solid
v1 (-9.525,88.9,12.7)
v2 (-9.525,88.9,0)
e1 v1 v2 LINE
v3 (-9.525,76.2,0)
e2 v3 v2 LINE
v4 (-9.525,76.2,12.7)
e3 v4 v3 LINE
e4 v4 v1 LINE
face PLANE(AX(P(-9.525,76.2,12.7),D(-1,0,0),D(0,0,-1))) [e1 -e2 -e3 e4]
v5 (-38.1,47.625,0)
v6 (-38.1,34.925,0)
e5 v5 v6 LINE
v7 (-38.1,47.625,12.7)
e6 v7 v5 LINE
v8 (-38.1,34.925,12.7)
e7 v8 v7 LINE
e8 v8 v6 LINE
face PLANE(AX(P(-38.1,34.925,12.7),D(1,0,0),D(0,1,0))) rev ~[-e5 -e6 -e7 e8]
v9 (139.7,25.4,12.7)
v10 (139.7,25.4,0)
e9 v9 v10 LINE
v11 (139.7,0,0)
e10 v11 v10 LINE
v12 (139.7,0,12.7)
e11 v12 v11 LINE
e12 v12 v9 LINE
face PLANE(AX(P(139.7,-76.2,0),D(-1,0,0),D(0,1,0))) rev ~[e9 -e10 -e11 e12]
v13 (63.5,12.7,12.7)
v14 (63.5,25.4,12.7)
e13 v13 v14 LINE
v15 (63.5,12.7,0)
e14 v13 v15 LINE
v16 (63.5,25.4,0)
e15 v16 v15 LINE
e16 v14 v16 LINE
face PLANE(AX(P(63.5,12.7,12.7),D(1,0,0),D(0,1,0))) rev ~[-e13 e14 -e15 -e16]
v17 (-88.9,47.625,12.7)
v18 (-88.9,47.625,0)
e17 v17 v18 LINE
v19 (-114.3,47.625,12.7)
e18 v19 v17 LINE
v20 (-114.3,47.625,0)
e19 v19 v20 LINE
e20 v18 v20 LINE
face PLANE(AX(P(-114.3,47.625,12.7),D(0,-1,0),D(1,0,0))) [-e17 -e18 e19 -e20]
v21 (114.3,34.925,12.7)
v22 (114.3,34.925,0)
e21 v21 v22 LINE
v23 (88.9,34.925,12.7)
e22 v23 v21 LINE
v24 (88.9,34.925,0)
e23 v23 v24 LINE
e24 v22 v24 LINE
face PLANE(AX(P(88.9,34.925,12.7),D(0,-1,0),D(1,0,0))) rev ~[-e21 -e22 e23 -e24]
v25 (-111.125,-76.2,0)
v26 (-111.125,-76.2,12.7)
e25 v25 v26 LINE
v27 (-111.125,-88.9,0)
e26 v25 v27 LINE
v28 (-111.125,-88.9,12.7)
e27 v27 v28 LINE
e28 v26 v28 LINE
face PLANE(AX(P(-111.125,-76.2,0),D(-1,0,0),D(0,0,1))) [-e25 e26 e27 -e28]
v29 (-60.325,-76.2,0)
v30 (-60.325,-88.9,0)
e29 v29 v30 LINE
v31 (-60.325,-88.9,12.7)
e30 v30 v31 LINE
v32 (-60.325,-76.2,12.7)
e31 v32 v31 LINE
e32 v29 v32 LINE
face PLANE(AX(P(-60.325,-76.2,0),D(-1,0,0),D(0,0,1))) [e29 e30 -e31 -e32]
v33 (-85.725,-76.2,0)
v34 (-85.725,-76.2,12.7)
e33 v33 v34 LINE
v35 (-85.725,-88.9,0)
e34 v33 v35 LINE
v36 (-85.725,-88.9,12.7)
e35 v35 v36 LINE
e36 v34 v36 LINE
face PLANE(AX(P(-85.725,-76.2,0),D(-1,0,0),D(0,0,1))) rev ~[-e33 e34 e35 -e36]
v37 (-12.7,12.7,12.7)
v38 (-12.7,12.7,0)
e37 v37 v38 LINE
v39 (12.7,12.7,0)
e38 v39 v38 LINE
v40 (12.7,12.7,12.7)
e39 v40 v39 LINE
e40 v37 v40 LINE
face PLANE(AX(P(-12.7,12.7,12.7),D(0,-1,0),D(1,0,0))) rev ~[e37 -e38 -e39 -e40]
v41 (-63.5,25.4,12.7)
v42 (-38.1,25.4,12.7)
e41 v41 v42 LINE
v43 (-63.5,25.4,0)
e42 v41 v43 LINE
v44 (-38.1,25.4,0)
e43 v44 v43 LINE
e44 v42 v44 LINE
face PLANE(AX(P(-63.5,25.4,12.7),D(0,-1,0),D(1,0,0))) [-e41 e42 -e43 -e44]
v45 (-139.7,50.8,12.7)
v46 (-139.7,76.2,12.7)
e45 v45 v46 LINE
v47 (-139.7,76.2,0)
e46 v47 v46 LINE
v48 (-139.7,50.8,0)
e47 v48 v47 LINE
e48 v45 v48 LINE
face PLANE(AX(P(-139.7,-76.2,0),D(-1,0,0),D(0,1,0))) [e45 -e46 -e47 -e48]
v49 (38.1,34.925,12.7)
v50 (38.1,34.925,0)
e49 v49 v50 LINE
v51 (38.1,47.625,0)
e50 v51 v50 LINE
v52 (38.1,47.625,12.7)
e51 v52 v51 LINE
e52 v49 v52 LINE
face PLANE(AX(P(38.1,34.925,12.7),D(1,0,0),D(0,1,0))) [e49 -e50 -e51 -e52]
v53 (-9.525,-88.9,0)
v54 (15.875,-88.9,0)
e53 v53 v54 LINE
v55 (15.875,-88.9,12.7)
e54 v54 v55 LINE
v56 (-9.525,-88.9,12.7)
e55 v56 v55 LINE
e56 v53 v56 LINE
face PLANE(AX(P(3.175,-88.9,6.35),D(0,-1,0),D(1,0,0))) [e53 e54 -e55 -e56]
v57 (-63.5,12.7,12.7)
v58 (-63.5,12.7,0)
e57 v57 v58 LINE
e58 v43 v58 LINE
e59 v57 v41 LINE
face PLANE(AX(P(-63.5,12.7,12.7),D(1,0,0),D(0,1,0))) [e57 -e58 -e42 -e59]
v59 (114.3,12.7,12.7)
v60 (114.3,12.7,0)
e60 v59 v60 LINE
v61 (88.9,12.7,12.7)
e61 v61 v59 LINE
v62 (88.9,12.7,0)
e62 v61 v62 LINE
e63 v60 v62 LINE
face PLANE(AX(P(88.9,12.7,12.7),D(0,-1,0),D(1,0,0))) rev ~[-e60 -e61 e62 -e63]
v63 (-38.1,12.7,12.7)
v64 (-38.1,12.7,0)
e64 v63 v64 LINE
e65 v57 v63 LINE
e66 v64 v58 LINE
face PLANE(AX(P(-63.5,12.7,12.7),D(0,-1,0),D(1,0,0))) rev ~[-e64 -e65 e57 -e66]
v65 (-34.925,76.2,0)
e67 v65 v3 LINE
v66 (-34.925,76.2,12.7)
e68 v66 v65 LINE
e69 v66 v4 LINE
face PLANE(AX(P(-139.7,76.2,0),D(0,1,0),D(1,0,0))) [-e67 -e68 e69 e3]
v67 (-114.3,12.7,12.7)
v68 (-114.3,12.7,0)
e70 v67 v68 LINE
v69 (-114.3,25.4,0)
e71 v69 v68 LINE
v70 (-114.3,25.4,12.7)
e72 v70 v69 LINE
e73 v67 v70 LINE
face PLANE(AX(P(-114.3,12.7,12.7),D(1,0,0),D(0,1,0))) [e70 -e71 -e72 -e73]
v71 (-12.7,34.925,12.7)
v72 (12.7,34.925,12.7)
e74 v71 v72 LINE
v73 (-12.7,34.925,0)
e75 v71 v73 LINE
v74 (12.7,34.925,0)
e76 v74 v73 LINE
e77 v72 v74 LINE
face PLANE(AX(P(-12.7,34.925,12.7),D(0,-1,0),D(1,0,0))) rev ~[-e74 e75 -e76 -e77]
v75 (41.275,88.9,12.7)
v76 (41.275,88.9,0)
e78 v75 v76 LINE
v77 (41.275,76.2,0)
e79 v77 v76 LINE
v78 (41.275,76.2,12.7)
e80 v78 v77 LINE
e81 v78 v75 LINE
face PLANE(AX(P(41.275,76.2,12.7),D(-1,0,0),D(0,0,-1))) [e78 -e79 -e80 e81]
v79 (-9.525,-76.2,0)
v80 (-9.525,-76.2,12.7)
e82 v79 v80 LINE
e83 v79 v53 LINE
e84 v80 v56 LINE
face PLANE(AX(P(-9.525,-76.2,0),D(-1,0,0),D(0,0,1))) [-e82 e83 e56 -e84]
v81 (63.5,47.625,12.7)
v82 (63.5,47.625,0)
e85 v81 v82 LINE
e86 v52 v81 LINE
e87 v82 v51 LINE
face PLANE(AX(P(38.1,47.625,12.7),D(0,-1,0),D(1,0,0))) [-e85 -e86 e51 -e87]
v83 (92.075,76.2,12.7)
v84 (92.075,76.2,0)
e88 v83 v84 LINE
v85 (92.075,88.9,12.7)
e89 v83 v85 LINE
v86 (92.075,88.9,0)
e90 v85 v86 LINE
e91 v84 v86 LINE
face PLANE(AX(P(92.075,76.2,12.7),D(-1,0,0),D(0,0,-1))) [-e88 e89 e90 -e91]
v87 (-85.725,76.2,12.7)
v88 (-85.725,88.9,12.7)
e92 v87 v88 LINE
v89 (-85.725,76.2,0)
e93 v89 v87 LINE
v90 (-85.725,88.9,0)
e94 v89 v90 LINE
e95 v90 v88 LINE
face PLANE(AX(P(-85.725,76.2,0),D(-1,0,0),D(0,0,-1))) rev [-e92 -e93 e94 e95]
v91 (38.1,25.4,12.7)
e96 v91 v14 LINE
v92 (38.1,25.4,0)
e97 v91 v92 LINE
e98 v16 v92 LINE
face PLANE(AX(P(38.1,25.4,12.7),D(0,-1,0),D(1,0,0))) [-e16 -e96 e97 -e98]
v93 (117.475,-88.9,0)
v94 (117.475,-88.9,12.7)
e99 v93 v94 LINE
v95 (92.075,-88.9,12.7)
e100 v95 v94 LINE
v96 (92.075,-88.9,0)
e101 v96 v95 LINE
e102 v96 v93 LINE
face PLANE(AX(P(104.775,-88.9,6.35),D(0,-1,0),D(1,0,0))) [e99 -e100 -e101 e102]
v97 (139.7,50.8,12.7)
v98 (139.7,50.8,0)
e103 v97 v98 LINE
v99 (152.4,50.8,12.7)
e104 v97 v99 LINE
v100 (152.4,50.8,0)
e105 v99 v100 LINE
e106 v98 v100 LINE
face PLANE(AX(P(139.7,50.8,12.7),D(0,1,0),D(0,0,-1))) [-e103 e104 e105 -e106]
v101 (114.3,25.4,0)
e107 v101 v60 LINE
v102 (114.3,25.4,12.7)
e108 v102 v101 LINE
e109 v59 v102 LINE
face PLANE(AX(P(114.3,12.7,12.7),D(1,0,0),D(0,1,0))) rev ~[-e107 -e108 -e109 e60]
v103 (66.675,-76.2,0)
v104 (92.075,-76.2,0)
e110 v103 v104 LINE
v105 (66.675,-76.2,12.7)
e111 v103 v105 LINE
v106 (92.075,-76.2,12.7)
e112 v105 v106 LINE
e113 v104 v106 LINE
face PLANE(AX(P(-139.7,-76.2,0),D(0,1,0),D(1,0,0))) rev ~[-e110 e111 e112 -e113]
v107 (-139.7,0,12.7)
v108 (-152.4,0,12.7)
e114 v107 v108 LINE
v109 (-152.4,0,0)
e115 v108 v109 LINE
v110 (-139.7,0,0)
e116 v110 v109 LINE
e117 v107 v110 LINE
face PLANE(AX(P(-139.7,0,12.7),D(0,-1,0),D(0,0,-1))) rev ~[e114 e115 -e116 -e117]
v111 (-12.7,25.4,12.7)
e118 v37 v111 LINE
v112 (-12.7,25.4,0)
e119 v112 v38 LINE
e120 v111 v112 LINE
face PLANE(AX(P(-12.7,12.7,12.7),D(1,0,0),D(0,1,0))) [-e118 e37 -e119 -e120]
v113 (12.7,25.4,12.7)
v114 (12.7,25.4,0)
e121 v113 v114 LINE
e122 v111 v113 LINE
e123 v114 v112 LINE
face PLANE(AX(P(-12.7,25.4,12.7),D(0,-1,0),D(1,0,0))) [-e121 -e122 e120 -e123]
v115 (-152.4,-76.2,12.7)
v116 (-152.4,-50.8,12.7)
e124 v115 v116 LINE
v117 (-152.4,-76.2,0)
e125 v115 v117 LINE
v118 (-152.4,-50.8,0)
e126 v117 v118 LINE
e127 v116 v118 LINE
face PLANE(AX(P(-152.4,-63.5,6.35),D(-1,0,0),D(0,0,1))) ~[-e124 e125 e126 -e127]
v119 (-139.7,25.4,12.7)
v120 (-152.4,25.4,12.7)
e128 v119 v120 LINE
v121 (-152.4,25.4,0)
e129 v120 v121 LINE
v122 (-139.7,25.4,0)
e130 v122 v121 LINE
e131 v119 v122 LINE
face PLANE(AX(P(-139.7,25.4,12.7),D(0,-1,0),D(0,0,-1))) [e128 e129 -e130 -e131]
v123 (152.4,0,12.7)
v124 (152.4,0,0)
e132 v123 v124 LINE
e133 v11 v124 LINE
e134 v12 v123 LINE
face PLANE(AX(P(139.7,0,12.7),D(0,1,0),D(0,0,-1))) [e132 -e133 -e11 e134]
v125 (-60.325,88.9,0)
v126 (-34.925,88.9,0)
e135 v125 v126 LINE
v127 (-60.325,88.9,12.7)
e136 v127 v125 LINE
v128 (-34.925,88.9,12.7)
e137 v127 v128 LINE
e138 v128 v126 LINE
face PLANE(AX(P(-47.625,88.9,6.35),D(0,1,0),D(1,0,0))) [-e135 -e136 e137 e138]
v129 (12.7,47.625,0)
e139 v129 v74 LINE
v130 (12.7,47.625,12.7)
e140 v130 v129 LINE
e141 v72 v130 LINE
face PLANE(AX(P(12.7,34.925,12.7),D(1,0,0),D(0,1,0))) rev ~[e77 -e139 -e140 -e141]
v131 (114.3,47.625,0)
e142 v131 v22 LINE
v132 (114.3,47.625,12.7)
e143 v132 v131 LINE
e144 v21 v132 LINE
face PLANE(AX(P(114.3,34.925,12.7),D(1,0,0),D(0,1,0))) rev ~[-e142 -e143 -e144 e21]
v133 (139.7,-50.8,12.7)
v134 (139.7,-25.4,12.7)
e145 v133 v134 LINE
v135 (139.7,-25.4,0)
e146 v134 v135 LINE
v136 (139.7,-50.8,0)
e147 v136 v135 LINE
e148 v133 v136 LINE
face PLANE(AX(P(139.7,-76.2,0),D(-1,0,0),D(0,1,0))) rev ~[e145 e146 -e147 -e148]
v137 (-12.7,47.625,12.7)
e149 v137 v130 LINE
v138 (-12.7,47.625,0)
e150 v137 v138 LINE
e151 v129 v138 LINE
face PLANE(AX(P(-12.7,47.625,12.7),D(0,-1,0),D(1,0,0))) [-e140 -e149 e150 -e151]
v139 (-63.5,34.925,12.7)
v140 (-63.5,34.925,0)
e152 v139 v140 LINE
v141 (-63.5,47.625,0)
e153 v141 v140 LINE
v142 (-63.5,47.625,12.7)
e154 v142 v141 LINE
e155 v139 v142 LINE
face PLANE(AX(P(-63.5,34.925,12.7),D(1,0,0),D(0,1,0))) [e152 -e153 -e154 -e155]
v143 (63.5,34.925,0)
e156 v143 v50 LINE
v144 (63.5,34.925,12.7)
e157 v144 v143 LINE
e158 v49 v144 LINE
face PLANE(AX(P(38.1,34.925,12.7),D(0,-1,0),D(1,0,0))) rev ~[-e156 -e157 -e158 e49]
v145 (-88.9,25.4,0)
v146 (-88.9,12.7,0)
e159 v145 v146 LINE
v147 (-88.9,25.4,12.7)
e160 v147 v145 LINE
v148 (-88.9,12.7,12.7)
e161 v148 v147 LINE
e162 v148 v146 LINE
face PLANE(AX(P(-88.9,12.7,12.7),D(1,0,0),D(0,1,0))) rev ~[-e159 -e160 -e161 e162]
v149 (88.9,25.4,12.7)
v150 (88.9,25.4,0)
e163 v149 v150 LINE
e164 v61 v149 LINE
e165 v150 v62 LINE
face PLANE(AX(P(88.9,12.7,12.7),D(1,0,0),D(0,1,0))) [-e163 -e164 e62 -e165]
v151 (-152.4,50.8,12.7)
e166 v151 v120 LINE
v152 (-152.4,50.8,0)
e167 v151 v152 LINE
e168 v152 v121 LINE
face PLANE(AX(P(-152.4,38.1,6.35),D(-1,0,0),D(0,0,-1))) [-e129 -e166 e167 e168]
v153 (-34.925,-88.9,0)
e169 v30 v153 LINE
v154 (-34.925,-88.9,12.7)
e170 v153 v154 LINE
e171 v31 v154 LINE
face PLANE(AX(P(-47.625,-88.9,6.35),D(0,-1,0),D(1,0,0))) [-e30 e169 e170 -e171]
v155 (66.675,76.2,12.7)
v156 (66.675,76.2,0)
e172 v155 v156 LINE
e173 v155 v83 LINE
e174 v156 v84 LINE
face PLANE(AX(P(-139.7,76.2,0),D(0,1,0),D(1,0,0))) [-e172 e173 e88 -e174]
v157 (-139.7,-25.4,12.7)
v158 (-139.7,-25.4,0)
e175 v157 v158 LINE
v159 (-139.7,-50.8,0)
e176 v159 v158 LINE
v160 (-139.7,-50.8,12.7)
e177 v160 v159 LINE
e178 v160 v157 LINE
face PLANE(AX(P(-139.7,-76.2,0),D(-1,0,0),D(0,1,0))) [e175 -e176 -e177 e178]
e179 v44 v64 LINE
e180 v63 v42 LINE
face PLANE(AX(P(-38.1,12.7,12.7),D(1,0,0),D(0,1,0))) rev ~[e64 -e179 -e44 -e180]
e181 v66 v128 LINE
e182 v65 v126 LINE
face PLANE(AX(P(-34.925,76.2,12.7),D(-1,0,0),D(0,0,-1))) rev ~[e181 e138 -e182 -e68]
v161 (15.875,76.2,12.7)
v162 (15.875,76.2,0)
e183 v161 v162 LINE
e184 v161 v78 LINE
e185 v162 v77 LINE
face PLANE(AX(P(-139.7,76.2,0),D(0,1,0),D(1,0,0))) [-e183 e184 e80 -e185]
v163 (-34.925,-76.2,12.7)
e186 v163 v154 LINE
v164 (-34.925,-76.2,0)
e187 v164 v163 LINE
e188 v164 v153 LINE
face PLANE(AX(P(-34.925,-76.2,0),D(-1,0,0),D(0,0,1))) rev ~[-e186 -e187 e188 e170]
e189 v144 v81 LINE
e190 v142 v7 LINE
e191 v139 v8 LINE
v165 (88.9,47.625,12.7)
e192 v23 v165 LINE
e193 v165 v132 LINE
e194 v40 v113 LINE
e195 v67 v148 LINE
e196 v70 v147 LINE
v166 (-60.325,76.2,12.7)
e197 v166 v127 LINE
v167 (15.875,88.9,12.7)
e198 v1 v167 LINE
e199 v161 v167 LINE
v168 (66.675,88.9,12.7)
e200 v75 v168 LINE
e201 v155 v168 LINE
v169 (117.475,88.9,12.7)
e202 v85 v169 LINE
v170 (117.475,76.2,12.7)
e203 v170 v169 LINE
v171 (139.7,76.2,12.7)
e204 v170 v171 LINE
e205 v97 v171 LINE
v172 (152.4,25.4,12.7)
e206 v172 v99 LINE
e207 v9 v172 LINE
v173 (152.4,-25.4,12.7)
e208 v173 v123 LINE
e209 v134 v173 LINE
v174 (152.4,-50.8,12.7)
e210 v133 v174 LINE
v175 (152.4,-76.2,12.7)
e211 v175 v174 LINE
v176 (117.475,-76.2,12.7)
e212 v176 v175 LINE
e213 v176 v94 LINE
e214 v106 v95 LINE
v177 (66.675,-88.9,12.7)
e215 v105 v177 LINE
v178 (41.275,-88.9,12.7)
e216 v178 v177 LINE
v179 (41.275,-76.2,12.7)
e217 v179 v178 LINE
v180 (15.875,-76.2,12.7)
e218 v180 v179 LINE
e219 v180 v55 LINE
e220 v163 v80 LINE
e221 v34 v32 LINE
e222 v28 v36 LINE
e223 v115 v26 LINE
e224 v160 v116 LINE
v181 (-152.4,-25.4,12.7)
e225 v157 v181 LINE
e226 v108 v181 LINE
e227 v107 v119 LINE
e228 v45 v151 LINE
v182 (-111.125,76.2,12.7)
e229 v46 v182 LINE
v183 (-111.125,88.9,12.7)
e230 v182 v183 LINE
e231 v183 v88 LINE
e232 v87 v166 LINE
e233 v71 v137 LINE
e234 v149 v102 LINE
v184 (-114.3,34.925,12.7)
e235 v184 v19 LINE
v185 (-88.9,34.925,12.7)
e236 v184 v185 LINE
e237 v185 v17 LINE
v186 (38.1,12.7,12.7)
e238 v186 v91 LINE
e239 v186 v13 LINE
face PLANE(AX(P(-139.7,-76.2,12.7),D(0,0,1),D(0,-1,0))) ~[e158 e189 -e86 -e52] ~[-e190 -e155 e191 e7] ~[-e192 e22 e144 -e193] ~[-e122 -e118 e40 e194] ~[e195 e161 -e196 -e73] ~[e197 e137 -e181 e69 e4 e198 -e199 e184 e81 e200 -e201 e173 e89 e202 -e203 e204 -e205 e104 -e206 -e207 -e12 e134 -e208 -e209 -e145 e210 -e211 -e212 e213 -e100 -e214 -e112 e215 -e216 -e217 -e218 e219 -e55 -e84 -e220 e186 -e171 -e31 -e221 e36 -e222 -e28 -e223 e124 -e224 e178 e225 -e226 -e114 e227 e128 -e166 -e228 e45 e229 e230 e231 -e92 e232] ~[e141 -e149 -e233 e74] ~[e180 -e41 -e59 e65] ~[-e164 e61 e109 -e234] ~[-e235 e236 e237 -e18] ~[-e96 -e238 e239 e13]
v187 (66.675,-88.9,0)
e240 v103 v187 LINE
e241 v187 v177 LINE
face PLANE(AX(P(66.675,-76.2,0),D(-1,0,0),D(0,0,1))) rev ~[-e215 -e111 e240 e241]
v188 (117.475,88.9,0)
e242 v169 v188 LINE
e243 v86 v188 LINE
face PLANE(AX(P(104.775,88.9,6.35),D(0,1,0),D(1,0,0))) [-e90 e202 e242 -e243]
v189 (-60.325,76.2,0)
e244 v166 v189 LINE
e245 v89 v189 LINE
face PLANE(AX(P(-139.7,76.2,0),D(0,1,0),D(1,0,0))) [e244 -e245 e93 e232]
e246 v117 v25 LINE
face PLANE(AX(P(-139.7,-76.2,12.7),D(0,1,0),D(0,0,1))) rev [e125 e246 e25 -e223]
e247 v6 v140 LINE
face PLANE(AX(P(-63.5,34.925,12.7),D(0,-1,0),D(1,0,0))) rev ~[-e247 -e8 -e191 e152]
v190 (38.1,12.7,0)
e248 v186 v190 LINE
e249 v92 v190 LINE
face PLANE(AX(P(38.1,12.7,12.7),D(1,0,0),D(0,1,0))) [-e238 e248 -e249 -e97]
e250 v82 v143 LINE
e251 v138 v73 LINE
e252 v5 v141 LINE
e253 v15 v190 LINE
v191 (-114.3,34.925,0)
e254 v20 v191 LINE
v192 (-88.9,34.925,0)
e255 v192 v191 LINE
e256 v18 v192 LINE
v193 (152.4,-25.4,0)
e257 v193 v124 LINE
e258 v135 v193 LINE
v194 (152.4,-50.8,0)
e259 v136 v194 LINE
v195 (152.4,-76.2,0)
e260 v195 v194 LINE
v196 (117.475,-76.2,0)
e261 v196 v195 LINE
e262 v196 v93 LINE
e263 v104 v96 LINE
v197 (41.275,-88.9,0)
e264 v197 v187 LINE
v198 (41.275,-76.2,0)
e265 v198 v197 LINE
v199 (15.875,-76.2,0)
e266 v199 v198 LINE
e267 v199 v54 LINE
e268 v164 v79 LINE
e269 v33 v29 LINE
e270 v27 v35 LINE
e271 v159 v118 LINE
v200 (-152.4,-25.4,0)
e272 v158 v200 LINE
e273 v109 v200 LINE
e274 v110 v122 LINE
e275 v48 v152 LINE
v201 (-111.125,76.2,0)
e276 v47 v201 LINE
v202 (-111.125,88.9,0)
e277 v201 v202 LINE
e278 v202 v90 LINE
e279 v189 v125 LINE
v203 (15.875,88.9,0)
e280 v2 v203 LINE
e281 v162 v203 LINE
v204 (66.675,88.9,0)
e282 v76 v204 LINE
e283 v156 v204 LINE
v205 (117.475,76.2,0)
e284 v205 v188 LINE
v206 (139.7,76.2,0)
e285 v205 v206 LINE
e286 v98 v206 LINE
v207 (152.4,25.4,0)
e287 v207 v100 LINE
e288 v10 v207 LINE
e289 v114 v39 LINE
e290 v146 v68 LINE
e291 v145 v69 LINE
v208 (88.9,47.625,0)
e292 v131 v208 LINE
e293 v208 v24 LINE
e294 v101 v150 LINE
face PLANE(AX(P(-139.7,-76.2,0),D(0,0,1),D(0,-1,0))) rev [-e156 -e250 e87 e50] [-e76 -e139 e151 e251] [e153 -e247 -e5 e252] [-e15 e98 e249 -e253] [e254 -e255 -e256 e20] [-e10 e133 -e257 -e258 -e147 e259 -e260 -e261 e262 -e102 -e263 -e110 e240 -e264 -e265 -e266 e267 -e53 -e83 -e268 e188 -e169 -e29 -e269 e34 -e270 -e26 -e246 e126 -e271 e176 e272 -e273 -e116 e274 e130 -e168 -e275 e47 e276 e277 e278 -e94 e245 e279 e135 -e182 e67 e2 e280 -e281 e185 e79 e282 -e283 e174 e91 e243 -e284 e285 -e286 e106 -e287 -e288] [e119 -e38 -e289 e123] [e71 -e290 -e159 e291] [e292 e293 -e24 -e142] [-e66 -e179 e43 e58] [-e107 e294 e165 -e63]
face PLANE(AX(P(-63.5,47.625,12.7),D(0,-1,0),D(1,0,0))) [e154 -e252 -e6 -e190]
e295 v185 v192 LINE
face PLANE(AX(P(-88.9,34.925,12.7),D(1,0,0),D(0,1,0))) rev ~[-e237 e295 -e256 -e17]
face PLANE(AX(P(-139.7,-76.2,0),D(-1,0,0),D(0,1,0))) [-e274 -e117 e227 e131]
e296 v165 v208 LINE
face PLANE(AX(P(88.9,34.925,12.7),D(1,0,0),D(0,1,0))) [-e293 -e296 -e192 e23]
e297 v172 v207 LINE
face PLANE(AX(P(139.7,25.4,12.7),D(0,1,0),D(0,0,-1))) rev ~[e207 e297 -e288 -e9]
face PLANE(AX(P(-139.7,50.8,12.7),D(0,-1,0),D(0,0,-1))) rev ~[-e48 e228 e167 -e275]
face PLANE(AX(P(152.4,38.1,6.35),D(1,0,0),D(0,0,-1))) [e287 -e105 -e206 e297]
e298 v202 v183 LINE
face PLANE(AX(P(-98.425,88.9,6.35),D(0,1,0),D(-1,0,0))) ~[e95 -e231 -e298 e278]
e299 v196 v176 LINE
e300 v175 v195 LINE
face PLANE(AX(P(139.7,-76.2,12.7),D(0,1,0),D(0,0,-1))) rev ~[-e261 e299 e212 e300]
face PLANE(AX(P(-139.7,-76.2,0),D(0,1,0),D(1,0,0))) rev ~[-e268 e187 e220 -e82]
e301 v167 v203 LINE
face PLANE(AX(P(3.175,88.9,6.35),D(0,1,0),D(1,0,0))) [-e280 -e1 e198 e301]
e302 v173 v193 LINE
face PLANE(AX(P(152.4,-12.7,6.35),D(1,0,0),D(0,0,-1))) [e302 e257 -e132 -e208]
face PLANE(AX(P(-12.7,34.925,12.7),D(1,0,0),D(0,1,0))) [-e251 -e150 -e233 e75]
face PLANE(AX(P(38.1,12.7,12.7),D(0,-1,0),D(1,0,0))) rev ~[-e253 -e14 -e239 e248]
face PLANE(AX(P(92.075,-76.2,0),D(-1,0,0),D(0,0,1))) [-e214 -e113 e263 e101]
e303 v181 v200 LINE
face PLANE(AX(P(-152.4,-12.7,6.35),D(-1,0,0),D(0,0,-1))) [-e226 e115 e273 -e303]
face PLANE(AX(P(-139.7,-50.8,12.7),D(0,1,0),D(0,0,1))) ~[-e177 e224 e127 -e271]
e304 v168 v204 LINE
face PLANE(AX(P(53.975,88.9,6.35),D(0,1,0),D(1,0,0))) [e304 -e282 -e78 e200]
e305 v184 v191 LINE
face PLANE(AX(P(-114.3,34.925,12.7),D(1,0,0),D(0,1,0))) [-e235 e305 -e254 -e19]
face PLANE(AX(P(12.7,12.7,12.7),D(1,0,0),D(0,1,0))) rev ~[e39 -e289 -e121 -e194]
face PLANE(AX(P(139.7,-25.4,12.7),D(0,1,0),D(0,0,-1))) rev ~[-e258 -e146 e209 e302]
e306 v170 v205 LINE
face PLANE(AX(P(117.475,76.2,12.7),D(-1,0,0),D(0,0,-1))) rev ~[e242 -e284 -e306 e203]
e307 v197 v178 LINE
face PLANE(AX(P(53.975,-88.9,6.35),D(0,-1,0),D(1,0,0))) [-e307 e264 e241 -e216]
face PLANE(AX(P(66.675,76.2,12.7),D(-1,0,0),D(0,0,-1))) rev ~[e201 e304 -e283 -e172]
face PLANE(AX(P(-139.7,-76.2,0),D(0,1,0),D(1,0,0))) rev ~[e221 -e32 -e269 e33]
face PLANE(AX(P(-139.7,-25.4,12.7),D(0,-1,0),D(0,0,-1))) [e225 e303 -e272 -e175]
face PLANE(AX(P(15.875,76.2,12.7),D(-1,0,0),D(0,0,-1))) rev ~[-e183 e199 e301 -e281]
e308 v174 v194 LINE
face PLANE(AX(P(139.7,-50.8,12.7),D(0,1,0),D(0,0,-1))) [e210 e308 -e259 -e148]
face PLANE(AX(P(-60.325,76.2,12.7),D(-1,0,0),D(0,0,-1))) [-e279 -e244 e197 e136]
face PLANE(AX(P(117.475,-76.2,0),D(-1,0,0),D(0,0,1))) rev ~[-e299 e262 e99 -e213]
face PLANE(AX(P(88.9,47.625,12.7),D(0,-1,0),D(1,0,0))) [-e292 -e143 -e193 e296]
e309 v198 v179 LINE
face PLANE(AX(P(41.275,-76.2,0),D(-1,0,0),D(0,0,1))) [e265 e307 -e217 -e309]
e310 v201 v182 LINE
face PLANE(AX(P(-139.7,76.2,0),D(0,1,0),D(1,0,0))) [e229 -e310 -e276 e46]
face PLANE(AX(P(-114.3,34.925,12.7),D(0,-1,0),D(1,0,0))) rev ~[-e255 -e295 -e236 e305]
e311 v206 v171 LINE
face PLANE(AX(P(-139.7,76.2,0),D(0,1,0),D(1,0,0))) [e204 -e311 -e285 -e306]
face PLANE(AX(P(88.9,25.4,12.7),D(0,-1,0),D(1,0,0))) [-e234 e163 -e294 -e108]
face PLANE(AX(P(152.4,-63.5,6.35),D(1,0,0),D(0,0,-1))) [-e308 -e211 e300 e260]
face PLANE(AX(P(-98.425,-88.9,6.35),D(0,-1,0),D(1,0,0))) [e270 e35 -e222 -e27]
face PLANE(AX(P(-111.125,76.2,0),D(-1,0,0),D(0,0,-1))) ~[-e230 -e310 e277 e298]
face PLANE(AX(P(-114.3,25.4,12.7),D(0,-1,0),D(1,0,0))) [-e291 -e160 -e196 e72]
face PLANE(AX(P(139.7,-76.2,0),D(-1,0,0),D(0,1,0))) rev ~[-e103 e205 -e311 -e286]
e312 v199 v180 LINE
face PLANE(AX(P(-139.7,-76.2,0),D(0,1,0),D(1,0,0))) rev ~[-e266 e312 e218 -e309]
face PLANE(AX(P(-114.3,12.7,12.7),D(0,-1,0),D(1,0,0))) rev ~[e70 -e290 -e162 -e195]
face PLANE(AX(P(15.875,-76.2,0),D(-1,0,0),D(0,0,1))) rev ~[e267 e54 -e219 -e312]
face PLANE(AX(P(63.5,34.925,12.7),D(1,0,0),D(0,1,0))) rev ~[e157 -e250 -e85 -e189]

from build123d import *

# Parameters (mm, degrees)
SKETCH1_W               = 279.4
SKETCH1_H               = 152.4
BOSS_EXTRUDE1_DEPTH     = 12.7
SKETCH2_W               = 25.4
SKETCH2_H               = 12.7
BOSS_EXTRUDE2_DEPTH     = 12.7
LPATTERN1_COUNT         = 5
LPATTERN1_PITCH         = 50.8
MIRROR1_COPY_1_SKETCH_W = 25.4
MIRROR1_COPY_1_SKETCH_H = 12.7
MIRROR1_COPY_1_DEPTH    = 12.7
MIRROR1_COPY_2_SKETCH_W = 25.4
MIRROR1_COPY_2_SKETCH_H = 12.7
MIRROR1_COPY_2_DEPTH    = 12.7
MIRROR1_COPY_3_SKETCH_W = 25.4
MIRROR1_COPY_3_SKETCH_H = 12.7
MIRROR1_COPY_3_DEPTH    = 12.7
MIRROR1_COPY_4_SKETCH_W = 25.4
MIRROR1_COPY_4_SKETCH_H = 12.7
MIRROR1_COPY_4_DEPTH    = 12.7
SKETCH3_W               = 12.7
SKETCH3_H               = 25.4
BOSS_EXTRUDE3_DEPTH     = 12.7
LPATTERN2_COUNT         = 3
LPATTERN2_PITCH         = 50.8
MIRROR2_COPY_1_SKETCH_W = 12.7
MIRROR2_COPY_1_SKETCH_H = 25.4
MIRROR2_COPY_1_DEPTH    = 12.7
MIRROR2_COPY_2_SKETCH_W = 12.7
MIRROR2_COPY_2_SKETCH_H = 25.4
MIRROR2_COPY_2_DEPTH    = 12.7
SKETCH4_W               = 25.4
SKETCH4_H               = 12.7
CUT_EXTRUDE1_DEPTH      = 13.7
LPATTERN3_COUNT         = 5
LPATTERN3_PITCH         = 50.8


with BuildPart() as part:
    # Sketch1 → Boss-Extrude1 (new body)
    with BuildSketch(Plane.XY):
        Rectangle(SKETCH1_W, SKETCH1_H)
    extrude(amount=BOSS_EXTRUDE1_DEPTH)

    # Sketch2 → Boss-Extrude2 (add)
    with BuildSketch(Plane.XZ.offset(76.2)):
        with Locations((-98.425, 6.35)):
            Rectangle(SKETCH2_W, SKETCH2_H)
    boss_extrude2 = extrude(amount=BOSS_EXTRUDE2_DEPTH)

    # LPattern1: Boss-Extrude2 ×5
    with Locations(*[(i * LPATTERN1_PITCH, 0, 0) for i in range(1, LPATTERN1_COUNT)]):
        add(boss_extrude2)

    # Mirror1: Boss-Extrude2 across plane
    add(boss_extrude2.mirror(Plane.ZX))

    # Mirror1 copy 1 sketch → Mirror1 copy 1 (add)
    with BuildSketch(Plane(origin=(50.8, 76.2, 0), x_dir=(1, 0, 0), z_dir=(0, 1, 0))):
        with Locations((-98.425, -6.35)):
            Rectangle(MIRROR1_COPY_1_SKETCH_W, MIRROR1_COPY_1_SKETCH_H)
    extrude(amount=MIRROR1_COPY_1_DEPTH)

    # Mirror1 copy 2 sketch → Mirror1 copy 2 (add)
    with BuildSketch(Plane(origin=(101.6, 76.2, 0), x_dir=(1, 0, 0), z_dir=(0, 1, 0))):
        with Locations((-98.425, -6.35)):
            Rectangle(MIRROR1_COPY_2_SKETCH_W, MIRROR1_COPY_2_SKETCH_H)
    extrude(amount=MIRROR1_COPY_2_DEPTH)

    # Mirror1 copy 3 sketch → Mirror1 copy 3 (add)
    with BuildSketch(Plane(origin=(152.4, 76.2, 0), x_dir=(1, 0, 0), z_dir=(0, 1, 0))):
        with Locations((-98.425, -6.35)):
            Rectangle(MIRROR1_COPY_3_SKETCH_W, MIRROR1_COPY_3_SKETCH_H)
    extrude(amount=MIRROR1_COPY_3_DEPTH)

    # Mirror1 copy 4 sketch → Mirror1 copy 4 (add)
    with BuildSketch(Plane(origin=(203.2, 76.2, 0), x_dir=(1, 0, 0), z_dir=(0, 1, 0))):
        with Locations((-98.425, -6.35)):
            Rectangle(MIRROR1_COPY_4_SKETCH_W, MIRROR1_COPY_4_SKETCH_H)
    extrude(amount=MIRROR1_COPY_4_DEPTH)

    # Sketch3 → Boss-Extrude3 (add)
    with BuildSketch(Plane(origin=(139.7, 0, 0), x_dir=(0, 0, -1), z_dir=(1, 0, 0))):
        with Locations((-6.35, -63.5)):
            Rectangle(SKETCH3_W, SKETCH3_H)
    boss_extrude3 = extrude(amount=BOSS_EXTRUDE3_DEPTH)

    # LPattern2: Boss-Extrude3 ×3
    with Locations(*[(0, i * LPATTERN2_PITCH, 0) for i in range(1, LPATTERN2_COUNT)]):
        add(boss_extrude3)

    # Mirror2: Boss-Extrude3 across plane
    add(boss_extrude3.mirror(Plane(origin=(0, 0, 0), x_dir=(0, 0, 1), z_dir=(1, 0, 0))))

    # Mirror2 copy 1 sketch → Mirror2 copy 1 (add)
    with BuildSketch(Plane(origin=(-139.7, 50.8, 0), x_dir=(0, 0, -1), z_dir=(-1, 0, 0))):
        with Locations((-6.35, 63.5)):
            Rectangle(MIRROR2_COPY_1_SKETCH_W, MIRROR2_COPY_1_SKETCH_H)
    extrude(amount=MIRROR2_COPY_1_DEPTH)

    # Mirror2 copy 2 sketch → Mirror2 copy 2 (add)
    with BuildSketch(Plane(origin=(-139.7, 101.6, 0), x_dir=(0, 0, -1), z_dir=(-1, 0, 0))):
        with Locations((-6.35, 63.5)):
            Rectangle(MIRROR2_COPY_2_SKETCH_W, MIRROR2_COPY_2_SKETCH_H)
    extrude(amount=MIRROR2_COPY_2_DEPTH)

    # Sketch4 → Cut-Extrude1 (cut, through all)
    with BuildSketch(Plane.XY.offset(12.7)):
        with Locations((-101.6, 19.05)):
            Rectangle(SKETCH4_W, SKETCH4_H)
        with Locations((-101.6, 41.275)):
            Rectangle(SKETCH4_W, SKETCH4_H)
    cut_extrude1 = extrude(amount=-CUT_EXTRUDE1_DEPTH, mode=Mode.SUBTRACT)

    # LPattern3: Cut-Extrude1 ×5
    with Locations(*[(i * LPATTERN3_PITCH, 0, 0) for i in range(1, LPATTERN3_COUNT)]):
        add(cut_extrude1, mode=Mode.SUBTRACT)


solid = part.part
